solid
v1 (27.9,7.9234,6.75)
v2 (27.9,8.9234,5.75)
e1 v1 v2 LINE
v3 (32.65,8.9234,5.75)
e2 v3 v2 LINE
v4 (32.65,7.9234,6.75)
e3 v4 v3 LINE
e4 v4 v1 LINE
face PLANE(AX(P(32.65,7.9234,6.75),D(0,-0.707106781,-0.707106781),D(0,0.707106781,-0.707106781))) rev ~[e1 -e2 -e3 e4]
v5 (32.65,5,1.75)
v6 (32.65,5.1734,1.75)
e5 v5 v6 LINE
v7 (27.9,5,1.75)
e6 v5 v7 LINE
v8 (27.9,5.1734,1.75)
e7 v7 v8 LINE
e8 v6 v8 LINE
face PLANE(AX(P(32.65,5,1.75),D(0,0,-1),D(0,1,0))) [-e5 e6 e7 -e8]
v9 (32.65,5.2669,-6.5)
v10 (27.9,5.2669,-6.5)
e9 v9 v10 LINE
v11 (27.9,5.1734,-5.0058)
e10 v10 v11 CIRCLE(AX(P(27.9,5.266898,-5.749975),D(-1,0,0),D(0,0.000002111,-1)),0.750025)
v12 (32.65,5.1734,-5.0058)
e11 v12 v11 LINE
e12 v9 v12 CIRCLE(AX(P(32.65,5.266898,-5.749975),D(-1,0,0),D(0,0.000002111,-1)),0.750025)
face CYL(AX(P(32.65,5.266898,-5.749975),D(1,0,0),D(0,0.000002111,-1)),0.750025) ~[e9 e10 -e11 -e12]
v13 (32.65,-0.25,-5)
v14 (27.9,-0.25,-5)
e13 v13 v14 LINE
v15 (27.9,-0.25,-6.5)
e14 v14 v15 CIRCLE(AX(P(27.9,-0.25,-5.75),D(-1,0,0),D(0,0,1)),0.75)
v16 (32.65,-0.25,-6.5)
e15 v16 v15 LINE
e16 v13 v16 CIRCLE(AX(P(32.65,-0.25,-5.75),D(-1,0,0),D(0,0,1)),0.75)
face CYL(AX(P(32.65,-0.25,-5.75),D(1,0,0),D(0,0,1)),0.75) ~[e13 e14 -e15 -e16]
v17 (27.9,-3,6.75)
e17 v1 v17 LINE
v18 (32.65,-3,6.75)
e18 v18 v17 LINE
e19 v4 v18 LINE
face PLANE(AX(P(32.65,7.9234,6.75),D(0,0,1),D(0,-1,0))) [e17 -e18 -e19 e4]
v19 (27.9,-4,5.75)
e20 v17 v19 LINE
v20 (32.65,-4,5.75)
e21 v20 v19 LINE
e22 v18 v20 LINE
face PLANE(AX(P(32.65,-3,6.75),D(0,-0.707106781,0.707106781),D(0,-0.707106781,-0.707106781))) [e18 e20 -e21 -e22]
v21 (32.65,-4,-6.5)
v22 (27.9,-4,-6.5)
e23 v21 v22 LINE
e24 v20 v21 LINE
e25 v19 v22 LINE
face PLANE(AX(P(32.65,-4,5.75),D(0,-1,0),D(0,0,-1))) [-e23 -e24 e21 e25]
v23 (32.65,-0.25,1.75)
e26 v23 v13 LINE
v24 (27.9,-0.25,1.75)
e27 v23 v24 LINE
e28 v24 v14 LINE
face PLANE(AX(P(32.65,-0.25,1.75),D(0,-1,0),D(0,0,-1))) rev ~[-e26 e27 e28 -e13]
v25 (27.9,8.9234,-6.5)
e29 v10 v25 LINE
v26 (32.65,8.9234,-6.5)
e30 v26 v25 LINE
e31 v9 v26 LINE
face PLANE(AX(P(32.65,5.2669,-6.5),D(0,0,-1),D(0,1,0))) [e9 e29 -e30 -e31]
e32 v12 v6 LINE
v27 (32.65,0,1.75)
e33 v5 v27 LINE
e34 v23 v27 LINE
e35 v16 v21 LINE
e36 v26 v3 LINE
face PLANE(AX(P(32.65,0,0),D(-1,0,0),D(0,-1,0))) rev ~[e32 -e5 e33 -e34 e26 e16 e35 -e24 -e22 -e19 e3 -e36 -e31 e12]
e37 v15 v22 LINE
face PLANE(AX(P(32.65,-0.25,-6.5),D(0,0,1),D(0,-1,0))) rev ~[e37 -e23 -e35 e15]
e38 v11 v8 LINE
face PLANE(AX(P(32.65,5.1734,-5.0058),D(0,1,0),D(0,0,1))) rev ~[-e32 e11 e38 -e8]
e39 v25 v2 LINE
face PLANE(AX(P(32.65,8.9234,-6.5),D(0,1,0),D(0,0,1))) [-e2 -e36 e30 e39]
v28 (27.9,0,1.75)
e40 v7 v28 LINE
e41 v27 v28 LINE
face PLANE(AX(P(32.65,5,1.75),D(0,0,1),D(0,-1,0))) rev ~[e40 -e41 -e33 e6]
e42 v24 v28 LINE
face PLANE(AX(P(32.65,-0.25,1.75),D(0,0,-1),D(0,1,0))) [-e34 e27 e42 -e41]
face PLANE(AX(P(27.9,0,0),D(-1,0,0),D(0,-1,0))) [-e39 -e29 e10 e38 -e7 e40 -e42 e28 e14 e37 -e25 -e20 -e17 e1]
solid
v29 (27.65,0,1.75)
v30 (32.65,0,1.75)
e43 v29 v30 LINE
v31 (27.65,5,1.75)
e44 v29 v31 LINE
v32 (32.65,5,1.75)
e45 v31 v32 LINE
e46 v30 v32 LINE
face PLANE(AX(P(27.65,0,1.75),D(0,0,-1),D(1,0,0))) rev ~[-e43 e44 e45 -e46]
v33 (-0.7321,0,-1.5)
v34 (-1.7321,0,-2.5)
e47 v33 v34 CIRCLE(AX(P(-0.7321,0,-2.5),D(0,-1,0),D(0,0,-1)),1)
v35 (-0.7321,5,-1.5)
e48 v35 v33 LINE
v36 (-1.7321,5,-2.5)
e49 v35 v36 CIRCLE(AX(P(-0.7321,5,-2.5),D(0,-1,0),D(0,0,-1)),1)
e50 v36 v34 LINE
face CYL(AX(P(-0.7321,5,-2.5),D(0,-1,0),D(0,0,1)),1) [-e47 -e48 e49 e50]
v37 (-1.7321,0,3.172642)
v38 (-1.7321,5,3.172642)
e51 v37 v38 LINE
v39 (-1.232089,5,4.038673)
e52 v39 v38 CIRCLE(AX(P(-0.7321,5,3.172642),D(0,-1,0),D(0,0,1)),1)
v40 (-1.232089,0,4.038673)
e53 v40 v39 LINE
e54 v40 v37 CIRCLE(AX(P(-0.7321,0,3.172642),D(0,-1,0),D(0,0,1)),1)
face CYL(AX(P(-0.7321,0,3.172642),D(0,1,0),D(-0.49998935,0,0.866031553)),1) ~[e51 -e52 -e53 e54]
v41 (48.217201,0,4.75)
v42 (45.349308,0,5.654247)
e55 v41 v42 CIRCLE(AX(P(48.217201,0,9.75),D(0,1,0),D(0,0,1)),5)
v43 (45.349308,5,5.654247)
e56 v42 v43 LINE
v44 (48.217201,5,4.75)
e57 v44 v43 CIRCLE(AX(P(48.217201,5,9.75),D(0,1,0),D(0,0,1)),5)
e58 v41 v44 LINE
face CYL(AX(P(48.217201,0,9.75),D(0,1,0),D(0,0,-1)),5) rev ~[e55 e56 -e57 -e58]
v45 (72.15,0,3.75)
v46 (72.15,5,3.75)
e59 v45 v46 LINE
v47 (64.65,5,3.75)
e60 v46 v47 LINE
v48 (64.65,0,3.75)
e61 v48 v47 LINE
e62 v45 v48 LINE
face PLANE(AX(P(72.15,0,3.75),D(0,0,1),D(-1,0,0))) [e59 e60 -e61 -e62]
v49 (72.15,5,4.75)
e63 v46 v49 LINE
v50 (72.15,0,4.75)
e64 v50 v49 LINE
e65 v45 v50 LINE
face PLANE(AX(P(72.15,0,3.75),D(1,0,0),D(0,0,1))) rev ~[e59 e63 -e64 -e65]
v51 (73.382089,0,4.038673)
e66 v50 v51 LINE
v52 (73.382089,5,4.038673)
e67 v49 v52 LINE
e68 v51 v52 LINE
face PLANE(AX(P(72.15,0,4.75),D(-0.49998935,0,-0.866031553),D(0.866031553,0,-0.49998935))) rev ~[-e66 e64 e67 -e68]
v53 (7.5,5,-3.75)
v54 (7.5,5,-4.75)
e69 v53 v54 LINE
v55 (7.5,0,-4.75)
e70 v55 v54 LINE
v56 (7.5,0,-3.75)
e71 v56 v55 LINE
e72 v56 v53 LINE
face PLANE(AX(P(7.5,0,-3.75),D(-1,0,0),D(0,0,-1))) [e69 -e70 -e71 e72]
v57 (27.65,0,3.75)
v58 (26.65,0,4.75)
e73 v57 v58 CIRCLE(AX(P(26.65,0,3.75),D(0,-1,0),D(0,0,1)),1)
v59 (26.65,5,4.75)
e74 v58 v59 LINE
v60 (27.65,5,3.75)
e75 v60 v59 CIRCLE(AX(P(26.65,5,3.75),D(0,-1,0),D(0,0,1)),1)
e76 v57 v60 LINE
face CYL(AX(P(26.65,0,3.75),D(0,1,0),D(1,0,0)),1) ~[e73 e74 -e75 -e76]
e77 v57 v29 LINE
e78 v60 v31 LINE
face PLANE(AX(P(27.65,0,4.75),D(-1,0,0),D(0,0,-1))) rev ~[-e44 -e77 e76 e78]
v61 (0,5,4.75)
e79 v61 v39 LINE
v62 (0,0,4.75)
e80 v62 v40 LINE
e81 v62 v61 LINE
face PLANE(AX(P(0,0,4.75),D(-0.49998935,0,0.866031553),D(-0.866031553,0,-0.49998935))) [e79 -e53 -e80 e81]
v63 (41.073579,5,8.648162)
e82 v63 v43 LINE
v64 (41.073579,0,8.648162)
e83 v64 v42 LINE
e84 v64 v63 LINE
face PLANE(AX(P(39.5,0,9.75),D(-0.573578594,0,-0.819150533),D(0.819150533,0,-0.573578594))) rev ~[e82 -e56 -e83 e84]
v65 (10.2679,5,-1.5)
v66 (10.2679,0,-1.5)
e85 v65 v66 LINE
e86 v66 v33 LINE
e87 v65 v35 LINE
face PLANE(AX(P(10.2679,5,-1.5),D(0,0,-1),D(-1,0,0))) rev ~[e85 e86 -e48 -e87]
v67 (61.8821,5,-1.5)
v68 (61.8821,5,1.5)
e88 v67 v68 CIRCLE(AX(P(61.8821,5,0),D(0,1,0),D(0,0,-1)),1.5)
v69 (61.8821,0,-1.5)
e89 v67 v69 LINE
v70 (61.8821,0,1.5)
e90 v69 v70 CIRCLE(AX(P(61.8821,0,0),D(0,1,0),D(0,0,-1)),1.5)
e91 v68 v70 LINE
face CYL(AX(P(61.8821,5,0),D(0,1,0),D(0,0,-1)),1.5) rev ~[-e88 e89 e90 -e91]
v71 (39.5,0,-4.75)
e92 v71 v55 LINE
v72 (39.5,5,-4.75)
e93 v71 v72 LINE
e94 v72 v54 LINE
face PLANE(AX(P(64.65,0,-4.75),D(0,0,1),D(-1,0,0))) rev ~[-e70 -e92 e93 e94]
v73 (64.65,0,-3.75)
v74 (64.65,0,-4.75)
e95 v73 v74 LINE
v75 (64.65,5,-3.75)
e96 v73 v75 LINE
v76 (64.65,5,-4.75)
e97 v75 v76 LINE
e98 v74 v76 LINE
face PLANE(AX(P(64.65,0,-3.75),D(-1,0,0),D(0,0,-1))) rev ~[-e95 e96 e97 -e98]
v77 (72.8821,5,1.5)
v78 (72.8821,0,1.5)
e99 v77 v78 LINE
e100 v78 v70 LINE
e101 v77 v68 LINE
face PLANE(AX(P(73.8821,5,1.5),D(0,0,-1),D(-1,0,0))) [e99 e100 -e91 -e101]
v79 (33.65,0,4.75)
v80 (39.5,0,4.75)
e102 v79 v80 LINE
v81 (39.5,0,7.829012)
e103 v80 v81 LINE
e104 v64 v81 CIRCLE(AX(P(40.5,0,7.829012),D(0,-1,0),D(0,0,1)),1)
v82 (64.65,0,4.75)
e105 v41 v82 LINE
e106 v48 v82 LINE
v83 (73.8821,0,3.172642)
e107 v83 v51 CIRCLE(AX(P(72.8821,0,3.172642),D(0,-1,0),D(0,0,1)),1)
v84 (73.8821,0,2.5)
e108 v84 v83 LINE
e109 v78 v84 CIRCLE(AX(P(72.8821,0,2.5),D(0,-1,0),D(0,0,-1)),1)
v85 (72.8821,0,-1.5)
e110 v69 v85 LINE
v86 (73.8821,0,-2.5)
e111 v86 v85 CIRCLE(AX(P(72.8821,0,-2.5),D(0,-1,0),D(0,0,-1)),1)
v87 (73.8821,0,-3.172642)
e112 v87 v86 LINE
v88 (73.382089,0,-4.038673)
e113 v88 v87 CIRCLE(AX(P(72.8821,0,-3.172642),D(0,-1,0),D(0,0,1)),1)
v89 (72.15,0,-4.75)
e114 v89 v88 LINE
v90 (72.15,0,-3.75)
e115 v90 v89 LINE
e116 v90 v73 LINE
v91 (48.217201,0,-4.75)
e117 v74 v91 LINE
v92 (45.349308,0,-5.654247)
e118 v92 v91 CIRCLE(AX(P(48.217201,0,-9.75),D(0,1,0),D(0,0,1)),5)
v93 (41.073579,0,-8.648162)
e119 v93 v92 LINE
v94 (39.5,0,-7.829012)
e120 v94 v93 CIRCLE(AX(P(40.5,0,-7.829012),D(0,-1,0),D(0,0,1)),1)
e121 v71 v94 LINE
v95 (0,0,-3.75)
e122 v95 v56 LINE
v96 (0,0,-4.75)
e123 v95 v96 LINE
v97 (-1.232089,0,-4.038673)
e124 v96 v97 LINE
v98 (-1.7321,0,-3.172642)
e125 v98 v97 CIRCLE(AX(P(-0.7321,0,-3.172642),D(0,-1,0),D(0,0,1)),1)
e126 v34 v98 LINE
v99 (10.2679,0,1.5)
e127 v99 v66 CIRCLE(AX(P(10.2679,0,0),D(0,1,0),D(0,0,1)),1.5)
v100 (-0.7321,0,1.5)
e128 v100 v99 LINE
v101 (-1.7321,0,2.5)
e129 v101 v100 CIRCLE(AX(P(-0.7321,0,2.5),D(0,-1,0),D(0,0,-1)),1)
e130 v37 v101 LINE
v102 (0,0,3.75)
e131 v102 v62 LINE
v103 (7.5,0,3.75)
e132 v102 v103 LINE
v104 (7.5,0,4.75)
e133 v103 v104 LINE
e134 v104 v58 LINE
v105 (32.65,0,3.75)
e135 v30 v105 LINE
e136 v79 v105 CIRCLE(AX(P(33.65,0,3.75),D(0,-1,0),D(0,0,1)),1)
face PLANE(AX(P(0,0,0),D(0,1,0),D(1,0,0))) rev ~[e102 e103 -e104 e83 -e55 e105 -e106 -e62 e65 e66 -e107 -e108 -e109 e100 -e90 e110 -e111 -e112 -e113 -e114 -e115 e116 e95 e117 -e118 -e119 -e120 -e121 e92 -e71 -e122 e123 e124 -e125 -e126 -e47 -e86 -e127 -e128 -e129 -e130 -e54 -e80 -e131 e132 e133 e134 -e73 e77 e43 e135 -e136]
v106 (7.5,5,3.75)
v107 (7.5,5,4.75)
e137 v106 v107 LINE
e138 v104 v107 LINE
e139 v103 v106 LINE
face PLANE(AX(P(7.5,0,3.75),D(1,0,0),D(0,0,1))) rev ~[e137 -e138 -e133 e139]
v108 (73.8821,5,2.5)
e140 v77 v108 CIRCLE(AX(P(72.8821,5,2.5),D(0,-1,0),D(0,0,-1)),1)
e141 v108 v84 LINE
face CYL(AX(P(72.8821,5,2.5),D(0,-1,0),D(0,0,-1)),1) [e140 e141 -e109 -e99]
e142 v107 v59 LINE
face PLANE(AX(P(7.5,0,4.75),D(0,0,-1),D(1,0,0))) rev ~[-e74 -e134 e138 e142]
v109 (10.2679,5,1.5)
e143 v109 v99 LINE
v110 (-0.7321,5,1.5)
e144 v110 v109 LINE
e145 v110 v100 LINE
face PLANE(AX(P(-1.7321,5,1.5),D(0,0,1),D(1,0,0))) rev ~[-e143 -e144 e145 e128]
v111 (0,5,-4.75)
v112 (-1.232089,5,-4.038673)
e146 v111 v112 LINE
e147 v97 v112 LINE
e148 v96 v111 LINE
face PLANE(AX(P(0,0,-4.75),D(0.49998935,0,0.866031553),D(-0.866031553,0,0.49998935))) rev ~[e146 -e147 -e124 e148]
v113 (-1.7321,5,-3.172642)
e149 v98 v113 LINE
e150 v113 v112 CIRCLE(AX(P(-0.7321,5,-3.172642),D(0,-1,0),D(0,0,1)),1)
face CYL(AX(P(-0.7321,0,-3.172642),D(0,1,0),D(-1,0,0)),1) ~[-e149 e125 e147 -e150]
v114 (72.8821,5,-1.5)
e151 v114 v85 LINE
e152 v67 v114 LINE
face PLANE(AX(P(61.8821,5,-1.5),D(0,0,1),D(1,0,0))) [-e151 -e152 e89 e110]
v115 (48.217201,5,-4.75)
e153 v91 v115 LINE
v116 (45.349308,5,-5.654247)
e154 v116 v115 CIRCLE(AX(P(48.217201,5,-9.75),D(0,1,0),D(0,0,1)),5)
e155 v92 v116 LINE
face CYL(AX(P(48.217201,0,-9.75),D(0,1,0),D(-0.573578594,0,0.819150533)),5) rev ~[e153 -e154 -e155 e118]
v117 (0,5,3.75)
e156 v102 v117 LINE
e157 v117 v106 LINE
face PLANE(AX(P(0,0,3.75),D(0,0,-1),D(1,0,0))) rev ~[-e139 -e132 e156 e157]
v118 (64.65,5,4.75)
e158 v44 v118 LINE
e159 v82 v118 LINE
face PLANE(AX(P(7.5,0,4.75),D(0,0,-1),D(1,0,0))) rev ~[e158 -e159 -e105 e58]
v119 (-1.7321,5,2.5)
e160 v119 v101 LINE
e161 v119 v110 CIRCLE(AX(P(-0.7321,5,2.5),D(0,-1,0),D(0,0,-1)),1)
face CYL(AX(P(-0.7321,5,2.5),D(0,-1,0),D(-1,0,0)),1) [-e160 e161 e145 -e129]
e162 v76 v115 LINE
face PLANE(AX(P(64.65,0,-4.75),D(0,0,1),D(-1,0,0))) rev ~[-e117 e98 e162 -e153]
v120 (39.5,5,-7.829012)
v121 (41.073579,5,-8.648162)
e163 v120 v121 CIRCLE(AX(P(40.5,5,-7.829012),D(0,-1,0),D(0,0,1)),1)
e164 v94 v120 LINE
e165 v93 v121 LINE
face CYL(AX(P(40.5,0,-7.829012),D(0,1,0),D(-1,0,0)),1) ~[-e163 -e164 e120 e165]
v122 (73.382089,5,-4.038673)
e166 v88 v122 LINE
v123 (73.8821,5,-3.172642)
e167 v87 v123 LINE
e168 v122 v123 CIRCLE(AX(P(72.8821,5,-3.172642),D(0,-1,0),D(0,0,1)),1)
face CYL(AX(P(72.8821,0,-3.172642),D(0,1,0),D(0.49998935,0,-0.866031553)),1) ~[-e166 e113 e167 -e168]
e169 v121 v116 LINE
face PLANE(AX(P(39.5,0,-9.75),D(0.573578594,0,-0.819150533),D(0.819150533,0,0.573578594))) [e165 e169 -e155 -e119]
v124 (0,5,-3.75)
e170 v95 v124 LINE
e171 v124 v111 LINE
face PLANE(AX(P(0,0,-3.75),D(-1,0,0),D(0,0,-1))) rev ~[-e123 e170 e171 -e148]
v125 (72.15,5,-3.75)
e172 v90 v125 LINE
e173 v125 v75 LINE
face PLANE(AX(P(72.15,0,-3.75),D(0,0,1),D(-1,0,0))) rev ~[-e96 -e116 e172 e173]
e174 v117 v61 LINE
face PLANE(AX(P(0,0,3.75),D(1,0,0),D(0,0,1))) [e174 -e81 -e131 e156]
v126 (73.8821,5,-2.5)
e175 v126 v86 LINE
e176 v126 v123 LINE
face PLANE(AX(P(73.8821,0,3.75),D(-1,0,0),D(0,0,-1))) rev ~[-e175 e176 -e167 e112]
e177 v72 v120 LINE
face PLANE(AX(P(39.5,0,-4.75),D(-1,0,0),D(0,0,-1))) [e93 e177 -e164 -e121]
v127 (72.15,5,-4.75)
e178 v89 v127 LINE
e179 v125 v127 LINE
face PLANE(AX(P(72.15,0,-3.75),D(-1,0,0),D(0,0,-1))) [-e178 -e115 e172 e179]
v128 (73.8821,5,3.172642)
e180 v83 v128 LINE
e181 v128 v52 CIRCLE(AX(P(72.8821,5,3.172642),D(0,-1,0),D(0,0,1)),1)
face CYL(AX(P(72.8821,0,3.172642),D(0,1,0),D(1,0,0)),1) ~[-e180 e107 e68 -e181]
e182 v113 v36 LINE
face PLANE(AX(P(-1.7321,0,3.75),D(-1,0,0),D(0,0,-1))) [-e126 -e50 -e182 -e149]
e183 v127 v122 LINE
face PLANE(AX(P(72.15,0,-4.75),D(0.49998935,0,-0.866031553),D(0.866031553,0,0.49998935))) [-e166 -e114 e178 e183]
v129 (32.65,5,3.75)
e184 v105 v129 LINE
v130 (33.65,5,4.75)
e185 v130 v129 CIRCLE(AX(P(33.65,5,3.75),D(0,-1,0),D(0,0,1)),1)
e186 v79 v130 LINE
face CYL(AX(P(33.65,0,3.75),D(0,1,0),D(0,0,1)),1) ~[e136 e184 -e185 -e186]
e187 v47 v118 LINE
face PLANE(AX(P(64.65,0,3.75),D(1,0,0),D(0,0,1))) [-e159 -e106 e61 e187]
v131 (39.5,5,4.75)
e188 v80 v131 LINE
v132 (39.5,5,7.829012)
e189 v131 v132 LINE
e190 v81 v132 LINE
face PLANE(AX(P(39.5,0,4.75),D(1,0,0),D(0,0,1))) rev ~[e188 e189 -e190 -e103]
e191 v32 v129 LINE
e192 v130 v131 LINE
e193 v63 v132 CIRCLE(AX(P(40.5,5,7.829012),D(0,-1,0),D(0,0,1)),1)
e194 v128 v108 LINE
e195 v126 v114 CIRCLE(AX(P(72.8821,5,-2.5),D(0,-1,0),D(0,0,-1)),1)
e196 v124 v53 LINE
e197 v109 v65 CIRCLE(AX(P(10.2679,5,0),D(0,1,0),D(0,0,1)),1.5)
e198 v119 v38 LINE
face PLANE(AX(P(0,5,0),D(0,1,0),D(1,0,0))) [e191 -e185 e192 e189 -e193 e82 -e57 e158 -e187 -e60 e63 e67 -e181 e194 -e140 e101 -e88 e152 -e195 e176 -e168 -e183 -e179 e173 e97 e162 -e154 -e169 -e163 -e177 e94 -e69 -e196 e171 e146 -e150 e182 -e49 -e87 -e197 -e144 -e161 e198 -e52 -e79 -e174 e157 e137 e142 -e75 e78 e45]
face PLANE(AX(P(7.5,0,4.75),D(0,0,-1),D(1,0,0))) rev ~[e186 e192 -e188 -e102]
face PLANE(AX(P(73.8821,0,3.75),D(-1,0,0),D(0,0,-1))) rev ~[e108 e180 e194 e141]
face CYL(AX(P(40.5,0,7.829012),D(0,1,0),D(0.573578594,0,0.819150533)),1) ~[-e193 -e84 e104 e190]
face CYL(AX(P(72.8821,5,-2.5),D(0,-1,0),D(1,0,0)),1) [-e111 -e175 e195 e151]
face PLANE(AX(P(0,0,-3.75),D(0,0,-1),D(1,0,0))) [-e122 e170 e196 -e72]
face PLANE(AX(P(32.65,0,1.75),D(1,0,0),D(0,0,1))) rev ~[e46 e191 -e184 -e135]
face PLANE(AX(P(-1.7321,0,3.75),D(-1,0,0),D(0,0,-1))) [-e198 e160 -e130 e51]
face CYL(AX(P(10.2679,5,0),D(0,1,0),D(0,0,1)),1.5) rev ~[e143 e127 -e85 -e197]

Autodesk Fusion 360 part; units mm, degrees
sketch "Sketch1" plane through (0, 0, 0) normal (0, 1, 0) x (1, 0, 0)
  line L0 (0, 0) -> (0, -3.75) construction
  line L1 (0, -3.75) -> (7.5, -3.75)
  line L2 (0, -3.75) -> (0, -4.75)
  line L3 (0, -4.75) -> (-1.7321, -3.75)
  line L4 (0, -4.75) -> (1.5486, -4.75) construction
  line L5 (-1.7321, -3.75) -> (-1.7321, 0)
  line L6 (7.5, -3.75) -> (7.5, -4.75)
  line L7 (7.5, -4.75) -> (64.65, -4.75)
  line L8 (-1.7321, 0) -> (36.075, 0) construction
  line L9 (36.075, 0) -> (36.075, -4.75) construction
  line L10 (73.8821, -3.75) -> (73.8821, 0)
  line L11 (72.15, -4.75) -> (73.8821, -3.75)
  line L12 (72.15, -3.75) -> (64.65, -3.75)
  line L13 (72.15, -3.75) -> (72.15, -4.75)
  line L14 (64.65, -3.75) -> (64.65, -4.75)
  line L15 (64.65, -4.75) -> (7.5, -4.75)
  line L16 (73.8821, 3.75) -> (73.8821, 0)
  line L17 (72.15, 4.75) -> (73.8821, 3.75)
  line L18 (72.15, 3.75) -> (64.65, 3.75)
  line L19 (72.15, 3.75) -> (72.15, 4.75)
  line L20 (64.65, 3.75) -> (64.65, 4.75)
  line L21 (64.65, 4.75) -> (7.5, 4.75)
  line L22 (7.5, 3.75) -> (7.5, 4.75)
  line L23 (0, 3.75) -> (7.5, 3.75)
  line L24 (0, 3.75) -> (0, 4.75)
  line L25 (0, 4.75) -> (-1.7321, 3.75)
  line L26 (-1.7321, 3.75) -> (-1.7321, 0)
  line L27 (-1.7321, 0) -> (73.8821, 0)
  point P0 (36.075, -4.75)
  dimension "d1" = 3.75
  dimension "d2" = 7.5
  dimension "d4" = 150
  dimension "d5" = 57.15
  dimension "d8" = 4.75
extrude "Extrude1" add sketch "Sketch1" along normal blind 5 makes body 1
sketch "Sketch2" plane through (0, 5, 0) normal (0, 1, 0) x (-1, 0, 0)
  line L0 (0, -3.75) -> (0, -4.75)
  line L1 (0, -4.75) -> (1.7321, -3.75)
  line L2 (1.7321, -3.75) -> (1.7321, 3.75)
  line L3 (1.7321, 3.75) -> (0, 4.75)
  line L4 (0, 4.75) -> (0, 3.75)
  line L5 (0, 3.75) -> (-7.5, 3.75)
  line L6 (-7.5, 3.75) -> (-7.5, 4.75)
  line L7 (-7.5, 4.75) -> (-64.65, 4.75)
  line L8 (-64.65, 4.75) -> (-64.65, 3.75)
  line L9 (-64.65, 3.75) -> (-72.15, 3.75)
  line L10 (-72.15, 3.75) -> (-72.15, 4.75)
  line L11 (-72.15, 4.75) -> (-73.8821, 3.75)
  line L12 (-73.8821, 3.75) -> (-73.8821, -3.75)
  line L13 (-73.8821, -3.75) -> (-72.15, -4.75)
  line L14 (-72.15, -4.75) -> (-72.15, -3.75)
  line L15 (-72.15, -3.75) -> (-64.65, -3.75)
  line L16 (-64.65, -3.75) -> (-64.65, -4.75)
  line L17 (-64.65, -4.75) -> (-7.5, -4.75)
  line L18 (-7.5, -4.75) -> (-7.5, -3.75)
  line L19 (-7.5, -3.75) -> (0, -3.75)
  line L20 (-73.8821, 0) -> (1.7321, 0) construction
  line L21 (-36.075, 4.75) -> (-36.075, -4.75) construction
  line L22 (1.7321, 1.5) -> (-10.2679, 1.5)
  arc A0 (-10.2679, 1.5) -> (-10.2679, -1.5) centre (-10.2679, 0) ccw
  line L23 (-10.2679, -1.5) -> (1.7321, -1.5)
  arc A1 (1.7321, -1.5) -> (1.7321, 1.5) centre (1.7321, 0) ccw
  line L24 (1.7321, 0) -> (-10.2679, 0) construction
  line L25 (-61.8821, -1.5) -> (-73.8821, -1.5)
  arc A2 (-61.8821, -1.5) -> (-61.8821, 1.5) centre (-61.8821, 0) ccw
  line L26 (-73.8821, 1.5) -> (-61.8821, 1.5)
  arc A3 (-73.8821, 1.5) -> (-73.8821, -1.5) centre (-73.8821, 0) ccw
  dimension "d9" = 1.5
  dimension "d10" = 12
extrude "Extrude2" cut sketch "Sketch2" against normal through all contours L2 L22 A0 L23 | L12 L25 A2 L26 bodies 1
sketch "Sketch3" plane through (0, 0, 0) normal (0, -1, 0) x (1, 0, 0)
  line L0 (61.8821, 1.5) -> (73.8821, 1.5)
  line L1 (73.8821, 1.5) -> (73.8821, 3.75)
  line L2 (73.8821, 3.75) -> (72.15, 4.75)
  line L3 (72.15, 4.75) -> (72.15, 3.75)
  line L4 (72.15, 3.75) -> (64.65, 3.75)
  line L5 (64.65, 3.75) -> (64.65, 4.75)
  line L6 (64.65, 4.75) -> (7.5, 4.75)
  line L7 (7.5, 4.75) -> (7.5, 3.75)
  line L8 (7.5, 3.75) -> (0, 3.75)
  line L9 (0, 3.75) -> (0, 4.75)
  line L10 (0, 4.75) -> (-1.7321, 3.75)
  line L11 (-1.7321, 3.75) -> (-1.7321, 1.5)
  line L12 (-1.7321, 1.5) -> (10.2679, 1.5)
  arc A0 (10.2679, -1.5) -> (10.2679, 1.5) centre (10.2679, 0) ccw
  line L13 (10.2679, -1.5) -> (-1.7321, -1.5)
  line L14 (-1.7321, -1.5) -> (-1.7321, -3.75)
  line L15 (-1.7321, -3.75) -> (0, -4.75)
  line L16 (0, -4.75) -> (0, -3.75)
  line L17 (0, -3.75) -> (7.5, -3.75)
  line L18 (7.5, -3.75) -> (7.5, -4.75)
  line L19 (7.5, -4.75) -> (64.65, -4.75)
  line L20 (64.65, -4.75) -> (64.65, -3.75)
  line L21 (64.65, -3.75) -> (72.15, -3.75)
  line L22 (72.15, -3.75) -> (72.15, -4.75)
  line L23 (72.15, -4.75) -> (73.8821, -3.75)
  line L24 (73.8821, -3.75) -> (73.8821, -1.5)
  line L25 (73.8821, -1.5) -> (61.8821, -1.5)
  arc A1 (61.8821, 1.5) -> (61.8821, -1.5) centre (61.8821, 0) ccw
  line L26 (36.075, 4.75) -> (36.075, -4.75) construction
  line L27 (32.65, 4.75) -> (32.65, -4.75) construction
  line L28 (39.5, 4.75) -> (39.5, -4.75) construction
  line L29 (39.5, 4.75) -> (39.5, 9.75)
  line L30 (39.5, 9.75) -> (46.6407, 4.75)
  line L31 (32.65, 0) -> (39.5, 0) construction
  line L32 (39.5, -4.75) -> (39.5, -9.75)
  line L33 (39.5, -9.75) -> (46.6407, -4.75)
  line L34 (32.65, 4.75) -> (27.65, 4.75)
  line L35 (27.65, 4.75) -> (27.65, 1.75)
  line L36 (27.65, 1.75) -> (32.65, 1.75)
  line L37 (32.65, 1.75) -> (32.65, 4.75)
  line L38 (32.65, 1.75) -> (32.65, -2.25)
  line L39 (32.65, -2.25) -> (27.65, -2.25) construction
  line L40 (27.65, -2.25) -> (27.65, -1.15)
  line L41 (27.65, -1.15) -> (32.65, -1.15)
  line L42 (27.65, -2.25) -> (27.65, -3.35)
  line L43 (27.65, -3.35) -> (32.65, -3.35)
  line L44 (32.65, -2.25) -> (32.65, -3.35)
  dimension "d13" = 6.85
  dimension "d14" = 35
  dimension "d15" = 5
  dimension "d16" = 5
  dimension "d17" = 3
  dimension "d44" = 1.1
  dimension "d45" = 1.1
  dimension "d46" = 4
extrude "Extrude3" add sketch "Sketch3" against normal blind 5 contours L6 L29 L30 | L19 L32 L33 bodies 1
extrude "Extrude4" cut sketch "Sketch3" against normal blind 5 contours L6 L34 L35 L36 L37 bodies 1
fillet "Fillet1" radius 1 2 edges at (39.5, 2.5, 9.75) (39.5, 2.5, -9.75) on bodies 1
fillet "Fillet1" radius 5 2 edges at (46.6407, 2.5, 4.75) (46.6407, 2.5, -4.75) on bodies 1
fillet "Fillet1" radius 1 8 edges at (73.8821, 2.5, 3.75) (73.8821, 2.5, 1.5) (73.8821, 2.5, -1.5) (73.8821, 2.5, -3.75) (-1.7321, 2.5, 3.75) (-1.7321, 2.5, 1.5) (-1.7321, 2.5, -1.5) (-1.7321, 2.5, -3.75) on bodies 1
fillet "Fillet1" radius 1 2 edges at (32.65, 2.5, 4.75) (27.65, 2.5, 4.75) on bodies 1
sketch "Sketch1 (2)" plane through (32.65, 0, 0) normal (-1, 0, 0) x (0, -1, 0) in component "Collar"
  line L0 (-5, 3.75) -> (-5, 1.75)
  line L1 (-5, 1.75) -> (0, 1.75)
  line L2 (0, 1.75) -> (0, 3.75)
  line L3 (0, 1.75) -> (-5, 1.75)
  line L4 (-5, 1.75) -> (0, 1.75)
  line L5 (0.25, 1.75) -> (-5.1734, 1.75)
  line L6 (-7.9234, 6.75) -> (3, 6.75)
  line L7 (4, 5.75) -> (4, -6.5)
  line L8 (-8.9234, -6.5) -> (-8.9234, 5.75)
  line L9 (0.25, -6.5) -> (4, -6.5)
  line L10 (-5.2669, -6.5) -> (-8.9234, -6.5)
  line L11 (3, 6.75) -> (4, 5.75)
  line L12 (-7.9234, 6.75) -> (-8.9234, 5.75)
  arc A0 (0.25, -5) -> (0.25, -6.5) centre (0.25, -5.75) ccw
  line L13 (0.25, 1.75) -> (0.25, -5)
  arc A1 (-5.2669, -6.5) -> (-5.1734, -5.0058) centre (-5.2669, -5.75) ccw
  line L14 (-5.1734, -5.0058) -> (-5.1734, 1.75)
  point P0 (-8.9234, 6.75)
  point P1 (4, 6.75)
  dimension "d38" = 1
  dimension "d39" = 1
  dimension "d40" = 1
  dimension "d41" = 1
  dimension "d42" = 1.5
  dimension "d43" = 1.5
  dimension "d50" = 7.5
  dimension "d52" = 3.75
  dimension "d54" = 5
  dimension "d55" = 3.75
extrude "Extrude1'" add sketch "Sketch1 (2)" along normal blind 4.75 separate body makes body 2 in component "Collar"
copy_body "Body->Comp1" bodies 1 removing the originals makes body 3 in component "Snap Axis"
component "Collar" placed x (1, 0, 0) y (0, 1, 0) z (0, 0, 1) at (0, 0, 0)
component "Snap Axis" placed x (1, 0, 0) y (0, 1, 0) z (0, 0, 1) at (0, 0, 0)
equation "d13 = 6.35 mm + 0.5 mm"
equation "d39 = d38"
equation "d41 = d40"
